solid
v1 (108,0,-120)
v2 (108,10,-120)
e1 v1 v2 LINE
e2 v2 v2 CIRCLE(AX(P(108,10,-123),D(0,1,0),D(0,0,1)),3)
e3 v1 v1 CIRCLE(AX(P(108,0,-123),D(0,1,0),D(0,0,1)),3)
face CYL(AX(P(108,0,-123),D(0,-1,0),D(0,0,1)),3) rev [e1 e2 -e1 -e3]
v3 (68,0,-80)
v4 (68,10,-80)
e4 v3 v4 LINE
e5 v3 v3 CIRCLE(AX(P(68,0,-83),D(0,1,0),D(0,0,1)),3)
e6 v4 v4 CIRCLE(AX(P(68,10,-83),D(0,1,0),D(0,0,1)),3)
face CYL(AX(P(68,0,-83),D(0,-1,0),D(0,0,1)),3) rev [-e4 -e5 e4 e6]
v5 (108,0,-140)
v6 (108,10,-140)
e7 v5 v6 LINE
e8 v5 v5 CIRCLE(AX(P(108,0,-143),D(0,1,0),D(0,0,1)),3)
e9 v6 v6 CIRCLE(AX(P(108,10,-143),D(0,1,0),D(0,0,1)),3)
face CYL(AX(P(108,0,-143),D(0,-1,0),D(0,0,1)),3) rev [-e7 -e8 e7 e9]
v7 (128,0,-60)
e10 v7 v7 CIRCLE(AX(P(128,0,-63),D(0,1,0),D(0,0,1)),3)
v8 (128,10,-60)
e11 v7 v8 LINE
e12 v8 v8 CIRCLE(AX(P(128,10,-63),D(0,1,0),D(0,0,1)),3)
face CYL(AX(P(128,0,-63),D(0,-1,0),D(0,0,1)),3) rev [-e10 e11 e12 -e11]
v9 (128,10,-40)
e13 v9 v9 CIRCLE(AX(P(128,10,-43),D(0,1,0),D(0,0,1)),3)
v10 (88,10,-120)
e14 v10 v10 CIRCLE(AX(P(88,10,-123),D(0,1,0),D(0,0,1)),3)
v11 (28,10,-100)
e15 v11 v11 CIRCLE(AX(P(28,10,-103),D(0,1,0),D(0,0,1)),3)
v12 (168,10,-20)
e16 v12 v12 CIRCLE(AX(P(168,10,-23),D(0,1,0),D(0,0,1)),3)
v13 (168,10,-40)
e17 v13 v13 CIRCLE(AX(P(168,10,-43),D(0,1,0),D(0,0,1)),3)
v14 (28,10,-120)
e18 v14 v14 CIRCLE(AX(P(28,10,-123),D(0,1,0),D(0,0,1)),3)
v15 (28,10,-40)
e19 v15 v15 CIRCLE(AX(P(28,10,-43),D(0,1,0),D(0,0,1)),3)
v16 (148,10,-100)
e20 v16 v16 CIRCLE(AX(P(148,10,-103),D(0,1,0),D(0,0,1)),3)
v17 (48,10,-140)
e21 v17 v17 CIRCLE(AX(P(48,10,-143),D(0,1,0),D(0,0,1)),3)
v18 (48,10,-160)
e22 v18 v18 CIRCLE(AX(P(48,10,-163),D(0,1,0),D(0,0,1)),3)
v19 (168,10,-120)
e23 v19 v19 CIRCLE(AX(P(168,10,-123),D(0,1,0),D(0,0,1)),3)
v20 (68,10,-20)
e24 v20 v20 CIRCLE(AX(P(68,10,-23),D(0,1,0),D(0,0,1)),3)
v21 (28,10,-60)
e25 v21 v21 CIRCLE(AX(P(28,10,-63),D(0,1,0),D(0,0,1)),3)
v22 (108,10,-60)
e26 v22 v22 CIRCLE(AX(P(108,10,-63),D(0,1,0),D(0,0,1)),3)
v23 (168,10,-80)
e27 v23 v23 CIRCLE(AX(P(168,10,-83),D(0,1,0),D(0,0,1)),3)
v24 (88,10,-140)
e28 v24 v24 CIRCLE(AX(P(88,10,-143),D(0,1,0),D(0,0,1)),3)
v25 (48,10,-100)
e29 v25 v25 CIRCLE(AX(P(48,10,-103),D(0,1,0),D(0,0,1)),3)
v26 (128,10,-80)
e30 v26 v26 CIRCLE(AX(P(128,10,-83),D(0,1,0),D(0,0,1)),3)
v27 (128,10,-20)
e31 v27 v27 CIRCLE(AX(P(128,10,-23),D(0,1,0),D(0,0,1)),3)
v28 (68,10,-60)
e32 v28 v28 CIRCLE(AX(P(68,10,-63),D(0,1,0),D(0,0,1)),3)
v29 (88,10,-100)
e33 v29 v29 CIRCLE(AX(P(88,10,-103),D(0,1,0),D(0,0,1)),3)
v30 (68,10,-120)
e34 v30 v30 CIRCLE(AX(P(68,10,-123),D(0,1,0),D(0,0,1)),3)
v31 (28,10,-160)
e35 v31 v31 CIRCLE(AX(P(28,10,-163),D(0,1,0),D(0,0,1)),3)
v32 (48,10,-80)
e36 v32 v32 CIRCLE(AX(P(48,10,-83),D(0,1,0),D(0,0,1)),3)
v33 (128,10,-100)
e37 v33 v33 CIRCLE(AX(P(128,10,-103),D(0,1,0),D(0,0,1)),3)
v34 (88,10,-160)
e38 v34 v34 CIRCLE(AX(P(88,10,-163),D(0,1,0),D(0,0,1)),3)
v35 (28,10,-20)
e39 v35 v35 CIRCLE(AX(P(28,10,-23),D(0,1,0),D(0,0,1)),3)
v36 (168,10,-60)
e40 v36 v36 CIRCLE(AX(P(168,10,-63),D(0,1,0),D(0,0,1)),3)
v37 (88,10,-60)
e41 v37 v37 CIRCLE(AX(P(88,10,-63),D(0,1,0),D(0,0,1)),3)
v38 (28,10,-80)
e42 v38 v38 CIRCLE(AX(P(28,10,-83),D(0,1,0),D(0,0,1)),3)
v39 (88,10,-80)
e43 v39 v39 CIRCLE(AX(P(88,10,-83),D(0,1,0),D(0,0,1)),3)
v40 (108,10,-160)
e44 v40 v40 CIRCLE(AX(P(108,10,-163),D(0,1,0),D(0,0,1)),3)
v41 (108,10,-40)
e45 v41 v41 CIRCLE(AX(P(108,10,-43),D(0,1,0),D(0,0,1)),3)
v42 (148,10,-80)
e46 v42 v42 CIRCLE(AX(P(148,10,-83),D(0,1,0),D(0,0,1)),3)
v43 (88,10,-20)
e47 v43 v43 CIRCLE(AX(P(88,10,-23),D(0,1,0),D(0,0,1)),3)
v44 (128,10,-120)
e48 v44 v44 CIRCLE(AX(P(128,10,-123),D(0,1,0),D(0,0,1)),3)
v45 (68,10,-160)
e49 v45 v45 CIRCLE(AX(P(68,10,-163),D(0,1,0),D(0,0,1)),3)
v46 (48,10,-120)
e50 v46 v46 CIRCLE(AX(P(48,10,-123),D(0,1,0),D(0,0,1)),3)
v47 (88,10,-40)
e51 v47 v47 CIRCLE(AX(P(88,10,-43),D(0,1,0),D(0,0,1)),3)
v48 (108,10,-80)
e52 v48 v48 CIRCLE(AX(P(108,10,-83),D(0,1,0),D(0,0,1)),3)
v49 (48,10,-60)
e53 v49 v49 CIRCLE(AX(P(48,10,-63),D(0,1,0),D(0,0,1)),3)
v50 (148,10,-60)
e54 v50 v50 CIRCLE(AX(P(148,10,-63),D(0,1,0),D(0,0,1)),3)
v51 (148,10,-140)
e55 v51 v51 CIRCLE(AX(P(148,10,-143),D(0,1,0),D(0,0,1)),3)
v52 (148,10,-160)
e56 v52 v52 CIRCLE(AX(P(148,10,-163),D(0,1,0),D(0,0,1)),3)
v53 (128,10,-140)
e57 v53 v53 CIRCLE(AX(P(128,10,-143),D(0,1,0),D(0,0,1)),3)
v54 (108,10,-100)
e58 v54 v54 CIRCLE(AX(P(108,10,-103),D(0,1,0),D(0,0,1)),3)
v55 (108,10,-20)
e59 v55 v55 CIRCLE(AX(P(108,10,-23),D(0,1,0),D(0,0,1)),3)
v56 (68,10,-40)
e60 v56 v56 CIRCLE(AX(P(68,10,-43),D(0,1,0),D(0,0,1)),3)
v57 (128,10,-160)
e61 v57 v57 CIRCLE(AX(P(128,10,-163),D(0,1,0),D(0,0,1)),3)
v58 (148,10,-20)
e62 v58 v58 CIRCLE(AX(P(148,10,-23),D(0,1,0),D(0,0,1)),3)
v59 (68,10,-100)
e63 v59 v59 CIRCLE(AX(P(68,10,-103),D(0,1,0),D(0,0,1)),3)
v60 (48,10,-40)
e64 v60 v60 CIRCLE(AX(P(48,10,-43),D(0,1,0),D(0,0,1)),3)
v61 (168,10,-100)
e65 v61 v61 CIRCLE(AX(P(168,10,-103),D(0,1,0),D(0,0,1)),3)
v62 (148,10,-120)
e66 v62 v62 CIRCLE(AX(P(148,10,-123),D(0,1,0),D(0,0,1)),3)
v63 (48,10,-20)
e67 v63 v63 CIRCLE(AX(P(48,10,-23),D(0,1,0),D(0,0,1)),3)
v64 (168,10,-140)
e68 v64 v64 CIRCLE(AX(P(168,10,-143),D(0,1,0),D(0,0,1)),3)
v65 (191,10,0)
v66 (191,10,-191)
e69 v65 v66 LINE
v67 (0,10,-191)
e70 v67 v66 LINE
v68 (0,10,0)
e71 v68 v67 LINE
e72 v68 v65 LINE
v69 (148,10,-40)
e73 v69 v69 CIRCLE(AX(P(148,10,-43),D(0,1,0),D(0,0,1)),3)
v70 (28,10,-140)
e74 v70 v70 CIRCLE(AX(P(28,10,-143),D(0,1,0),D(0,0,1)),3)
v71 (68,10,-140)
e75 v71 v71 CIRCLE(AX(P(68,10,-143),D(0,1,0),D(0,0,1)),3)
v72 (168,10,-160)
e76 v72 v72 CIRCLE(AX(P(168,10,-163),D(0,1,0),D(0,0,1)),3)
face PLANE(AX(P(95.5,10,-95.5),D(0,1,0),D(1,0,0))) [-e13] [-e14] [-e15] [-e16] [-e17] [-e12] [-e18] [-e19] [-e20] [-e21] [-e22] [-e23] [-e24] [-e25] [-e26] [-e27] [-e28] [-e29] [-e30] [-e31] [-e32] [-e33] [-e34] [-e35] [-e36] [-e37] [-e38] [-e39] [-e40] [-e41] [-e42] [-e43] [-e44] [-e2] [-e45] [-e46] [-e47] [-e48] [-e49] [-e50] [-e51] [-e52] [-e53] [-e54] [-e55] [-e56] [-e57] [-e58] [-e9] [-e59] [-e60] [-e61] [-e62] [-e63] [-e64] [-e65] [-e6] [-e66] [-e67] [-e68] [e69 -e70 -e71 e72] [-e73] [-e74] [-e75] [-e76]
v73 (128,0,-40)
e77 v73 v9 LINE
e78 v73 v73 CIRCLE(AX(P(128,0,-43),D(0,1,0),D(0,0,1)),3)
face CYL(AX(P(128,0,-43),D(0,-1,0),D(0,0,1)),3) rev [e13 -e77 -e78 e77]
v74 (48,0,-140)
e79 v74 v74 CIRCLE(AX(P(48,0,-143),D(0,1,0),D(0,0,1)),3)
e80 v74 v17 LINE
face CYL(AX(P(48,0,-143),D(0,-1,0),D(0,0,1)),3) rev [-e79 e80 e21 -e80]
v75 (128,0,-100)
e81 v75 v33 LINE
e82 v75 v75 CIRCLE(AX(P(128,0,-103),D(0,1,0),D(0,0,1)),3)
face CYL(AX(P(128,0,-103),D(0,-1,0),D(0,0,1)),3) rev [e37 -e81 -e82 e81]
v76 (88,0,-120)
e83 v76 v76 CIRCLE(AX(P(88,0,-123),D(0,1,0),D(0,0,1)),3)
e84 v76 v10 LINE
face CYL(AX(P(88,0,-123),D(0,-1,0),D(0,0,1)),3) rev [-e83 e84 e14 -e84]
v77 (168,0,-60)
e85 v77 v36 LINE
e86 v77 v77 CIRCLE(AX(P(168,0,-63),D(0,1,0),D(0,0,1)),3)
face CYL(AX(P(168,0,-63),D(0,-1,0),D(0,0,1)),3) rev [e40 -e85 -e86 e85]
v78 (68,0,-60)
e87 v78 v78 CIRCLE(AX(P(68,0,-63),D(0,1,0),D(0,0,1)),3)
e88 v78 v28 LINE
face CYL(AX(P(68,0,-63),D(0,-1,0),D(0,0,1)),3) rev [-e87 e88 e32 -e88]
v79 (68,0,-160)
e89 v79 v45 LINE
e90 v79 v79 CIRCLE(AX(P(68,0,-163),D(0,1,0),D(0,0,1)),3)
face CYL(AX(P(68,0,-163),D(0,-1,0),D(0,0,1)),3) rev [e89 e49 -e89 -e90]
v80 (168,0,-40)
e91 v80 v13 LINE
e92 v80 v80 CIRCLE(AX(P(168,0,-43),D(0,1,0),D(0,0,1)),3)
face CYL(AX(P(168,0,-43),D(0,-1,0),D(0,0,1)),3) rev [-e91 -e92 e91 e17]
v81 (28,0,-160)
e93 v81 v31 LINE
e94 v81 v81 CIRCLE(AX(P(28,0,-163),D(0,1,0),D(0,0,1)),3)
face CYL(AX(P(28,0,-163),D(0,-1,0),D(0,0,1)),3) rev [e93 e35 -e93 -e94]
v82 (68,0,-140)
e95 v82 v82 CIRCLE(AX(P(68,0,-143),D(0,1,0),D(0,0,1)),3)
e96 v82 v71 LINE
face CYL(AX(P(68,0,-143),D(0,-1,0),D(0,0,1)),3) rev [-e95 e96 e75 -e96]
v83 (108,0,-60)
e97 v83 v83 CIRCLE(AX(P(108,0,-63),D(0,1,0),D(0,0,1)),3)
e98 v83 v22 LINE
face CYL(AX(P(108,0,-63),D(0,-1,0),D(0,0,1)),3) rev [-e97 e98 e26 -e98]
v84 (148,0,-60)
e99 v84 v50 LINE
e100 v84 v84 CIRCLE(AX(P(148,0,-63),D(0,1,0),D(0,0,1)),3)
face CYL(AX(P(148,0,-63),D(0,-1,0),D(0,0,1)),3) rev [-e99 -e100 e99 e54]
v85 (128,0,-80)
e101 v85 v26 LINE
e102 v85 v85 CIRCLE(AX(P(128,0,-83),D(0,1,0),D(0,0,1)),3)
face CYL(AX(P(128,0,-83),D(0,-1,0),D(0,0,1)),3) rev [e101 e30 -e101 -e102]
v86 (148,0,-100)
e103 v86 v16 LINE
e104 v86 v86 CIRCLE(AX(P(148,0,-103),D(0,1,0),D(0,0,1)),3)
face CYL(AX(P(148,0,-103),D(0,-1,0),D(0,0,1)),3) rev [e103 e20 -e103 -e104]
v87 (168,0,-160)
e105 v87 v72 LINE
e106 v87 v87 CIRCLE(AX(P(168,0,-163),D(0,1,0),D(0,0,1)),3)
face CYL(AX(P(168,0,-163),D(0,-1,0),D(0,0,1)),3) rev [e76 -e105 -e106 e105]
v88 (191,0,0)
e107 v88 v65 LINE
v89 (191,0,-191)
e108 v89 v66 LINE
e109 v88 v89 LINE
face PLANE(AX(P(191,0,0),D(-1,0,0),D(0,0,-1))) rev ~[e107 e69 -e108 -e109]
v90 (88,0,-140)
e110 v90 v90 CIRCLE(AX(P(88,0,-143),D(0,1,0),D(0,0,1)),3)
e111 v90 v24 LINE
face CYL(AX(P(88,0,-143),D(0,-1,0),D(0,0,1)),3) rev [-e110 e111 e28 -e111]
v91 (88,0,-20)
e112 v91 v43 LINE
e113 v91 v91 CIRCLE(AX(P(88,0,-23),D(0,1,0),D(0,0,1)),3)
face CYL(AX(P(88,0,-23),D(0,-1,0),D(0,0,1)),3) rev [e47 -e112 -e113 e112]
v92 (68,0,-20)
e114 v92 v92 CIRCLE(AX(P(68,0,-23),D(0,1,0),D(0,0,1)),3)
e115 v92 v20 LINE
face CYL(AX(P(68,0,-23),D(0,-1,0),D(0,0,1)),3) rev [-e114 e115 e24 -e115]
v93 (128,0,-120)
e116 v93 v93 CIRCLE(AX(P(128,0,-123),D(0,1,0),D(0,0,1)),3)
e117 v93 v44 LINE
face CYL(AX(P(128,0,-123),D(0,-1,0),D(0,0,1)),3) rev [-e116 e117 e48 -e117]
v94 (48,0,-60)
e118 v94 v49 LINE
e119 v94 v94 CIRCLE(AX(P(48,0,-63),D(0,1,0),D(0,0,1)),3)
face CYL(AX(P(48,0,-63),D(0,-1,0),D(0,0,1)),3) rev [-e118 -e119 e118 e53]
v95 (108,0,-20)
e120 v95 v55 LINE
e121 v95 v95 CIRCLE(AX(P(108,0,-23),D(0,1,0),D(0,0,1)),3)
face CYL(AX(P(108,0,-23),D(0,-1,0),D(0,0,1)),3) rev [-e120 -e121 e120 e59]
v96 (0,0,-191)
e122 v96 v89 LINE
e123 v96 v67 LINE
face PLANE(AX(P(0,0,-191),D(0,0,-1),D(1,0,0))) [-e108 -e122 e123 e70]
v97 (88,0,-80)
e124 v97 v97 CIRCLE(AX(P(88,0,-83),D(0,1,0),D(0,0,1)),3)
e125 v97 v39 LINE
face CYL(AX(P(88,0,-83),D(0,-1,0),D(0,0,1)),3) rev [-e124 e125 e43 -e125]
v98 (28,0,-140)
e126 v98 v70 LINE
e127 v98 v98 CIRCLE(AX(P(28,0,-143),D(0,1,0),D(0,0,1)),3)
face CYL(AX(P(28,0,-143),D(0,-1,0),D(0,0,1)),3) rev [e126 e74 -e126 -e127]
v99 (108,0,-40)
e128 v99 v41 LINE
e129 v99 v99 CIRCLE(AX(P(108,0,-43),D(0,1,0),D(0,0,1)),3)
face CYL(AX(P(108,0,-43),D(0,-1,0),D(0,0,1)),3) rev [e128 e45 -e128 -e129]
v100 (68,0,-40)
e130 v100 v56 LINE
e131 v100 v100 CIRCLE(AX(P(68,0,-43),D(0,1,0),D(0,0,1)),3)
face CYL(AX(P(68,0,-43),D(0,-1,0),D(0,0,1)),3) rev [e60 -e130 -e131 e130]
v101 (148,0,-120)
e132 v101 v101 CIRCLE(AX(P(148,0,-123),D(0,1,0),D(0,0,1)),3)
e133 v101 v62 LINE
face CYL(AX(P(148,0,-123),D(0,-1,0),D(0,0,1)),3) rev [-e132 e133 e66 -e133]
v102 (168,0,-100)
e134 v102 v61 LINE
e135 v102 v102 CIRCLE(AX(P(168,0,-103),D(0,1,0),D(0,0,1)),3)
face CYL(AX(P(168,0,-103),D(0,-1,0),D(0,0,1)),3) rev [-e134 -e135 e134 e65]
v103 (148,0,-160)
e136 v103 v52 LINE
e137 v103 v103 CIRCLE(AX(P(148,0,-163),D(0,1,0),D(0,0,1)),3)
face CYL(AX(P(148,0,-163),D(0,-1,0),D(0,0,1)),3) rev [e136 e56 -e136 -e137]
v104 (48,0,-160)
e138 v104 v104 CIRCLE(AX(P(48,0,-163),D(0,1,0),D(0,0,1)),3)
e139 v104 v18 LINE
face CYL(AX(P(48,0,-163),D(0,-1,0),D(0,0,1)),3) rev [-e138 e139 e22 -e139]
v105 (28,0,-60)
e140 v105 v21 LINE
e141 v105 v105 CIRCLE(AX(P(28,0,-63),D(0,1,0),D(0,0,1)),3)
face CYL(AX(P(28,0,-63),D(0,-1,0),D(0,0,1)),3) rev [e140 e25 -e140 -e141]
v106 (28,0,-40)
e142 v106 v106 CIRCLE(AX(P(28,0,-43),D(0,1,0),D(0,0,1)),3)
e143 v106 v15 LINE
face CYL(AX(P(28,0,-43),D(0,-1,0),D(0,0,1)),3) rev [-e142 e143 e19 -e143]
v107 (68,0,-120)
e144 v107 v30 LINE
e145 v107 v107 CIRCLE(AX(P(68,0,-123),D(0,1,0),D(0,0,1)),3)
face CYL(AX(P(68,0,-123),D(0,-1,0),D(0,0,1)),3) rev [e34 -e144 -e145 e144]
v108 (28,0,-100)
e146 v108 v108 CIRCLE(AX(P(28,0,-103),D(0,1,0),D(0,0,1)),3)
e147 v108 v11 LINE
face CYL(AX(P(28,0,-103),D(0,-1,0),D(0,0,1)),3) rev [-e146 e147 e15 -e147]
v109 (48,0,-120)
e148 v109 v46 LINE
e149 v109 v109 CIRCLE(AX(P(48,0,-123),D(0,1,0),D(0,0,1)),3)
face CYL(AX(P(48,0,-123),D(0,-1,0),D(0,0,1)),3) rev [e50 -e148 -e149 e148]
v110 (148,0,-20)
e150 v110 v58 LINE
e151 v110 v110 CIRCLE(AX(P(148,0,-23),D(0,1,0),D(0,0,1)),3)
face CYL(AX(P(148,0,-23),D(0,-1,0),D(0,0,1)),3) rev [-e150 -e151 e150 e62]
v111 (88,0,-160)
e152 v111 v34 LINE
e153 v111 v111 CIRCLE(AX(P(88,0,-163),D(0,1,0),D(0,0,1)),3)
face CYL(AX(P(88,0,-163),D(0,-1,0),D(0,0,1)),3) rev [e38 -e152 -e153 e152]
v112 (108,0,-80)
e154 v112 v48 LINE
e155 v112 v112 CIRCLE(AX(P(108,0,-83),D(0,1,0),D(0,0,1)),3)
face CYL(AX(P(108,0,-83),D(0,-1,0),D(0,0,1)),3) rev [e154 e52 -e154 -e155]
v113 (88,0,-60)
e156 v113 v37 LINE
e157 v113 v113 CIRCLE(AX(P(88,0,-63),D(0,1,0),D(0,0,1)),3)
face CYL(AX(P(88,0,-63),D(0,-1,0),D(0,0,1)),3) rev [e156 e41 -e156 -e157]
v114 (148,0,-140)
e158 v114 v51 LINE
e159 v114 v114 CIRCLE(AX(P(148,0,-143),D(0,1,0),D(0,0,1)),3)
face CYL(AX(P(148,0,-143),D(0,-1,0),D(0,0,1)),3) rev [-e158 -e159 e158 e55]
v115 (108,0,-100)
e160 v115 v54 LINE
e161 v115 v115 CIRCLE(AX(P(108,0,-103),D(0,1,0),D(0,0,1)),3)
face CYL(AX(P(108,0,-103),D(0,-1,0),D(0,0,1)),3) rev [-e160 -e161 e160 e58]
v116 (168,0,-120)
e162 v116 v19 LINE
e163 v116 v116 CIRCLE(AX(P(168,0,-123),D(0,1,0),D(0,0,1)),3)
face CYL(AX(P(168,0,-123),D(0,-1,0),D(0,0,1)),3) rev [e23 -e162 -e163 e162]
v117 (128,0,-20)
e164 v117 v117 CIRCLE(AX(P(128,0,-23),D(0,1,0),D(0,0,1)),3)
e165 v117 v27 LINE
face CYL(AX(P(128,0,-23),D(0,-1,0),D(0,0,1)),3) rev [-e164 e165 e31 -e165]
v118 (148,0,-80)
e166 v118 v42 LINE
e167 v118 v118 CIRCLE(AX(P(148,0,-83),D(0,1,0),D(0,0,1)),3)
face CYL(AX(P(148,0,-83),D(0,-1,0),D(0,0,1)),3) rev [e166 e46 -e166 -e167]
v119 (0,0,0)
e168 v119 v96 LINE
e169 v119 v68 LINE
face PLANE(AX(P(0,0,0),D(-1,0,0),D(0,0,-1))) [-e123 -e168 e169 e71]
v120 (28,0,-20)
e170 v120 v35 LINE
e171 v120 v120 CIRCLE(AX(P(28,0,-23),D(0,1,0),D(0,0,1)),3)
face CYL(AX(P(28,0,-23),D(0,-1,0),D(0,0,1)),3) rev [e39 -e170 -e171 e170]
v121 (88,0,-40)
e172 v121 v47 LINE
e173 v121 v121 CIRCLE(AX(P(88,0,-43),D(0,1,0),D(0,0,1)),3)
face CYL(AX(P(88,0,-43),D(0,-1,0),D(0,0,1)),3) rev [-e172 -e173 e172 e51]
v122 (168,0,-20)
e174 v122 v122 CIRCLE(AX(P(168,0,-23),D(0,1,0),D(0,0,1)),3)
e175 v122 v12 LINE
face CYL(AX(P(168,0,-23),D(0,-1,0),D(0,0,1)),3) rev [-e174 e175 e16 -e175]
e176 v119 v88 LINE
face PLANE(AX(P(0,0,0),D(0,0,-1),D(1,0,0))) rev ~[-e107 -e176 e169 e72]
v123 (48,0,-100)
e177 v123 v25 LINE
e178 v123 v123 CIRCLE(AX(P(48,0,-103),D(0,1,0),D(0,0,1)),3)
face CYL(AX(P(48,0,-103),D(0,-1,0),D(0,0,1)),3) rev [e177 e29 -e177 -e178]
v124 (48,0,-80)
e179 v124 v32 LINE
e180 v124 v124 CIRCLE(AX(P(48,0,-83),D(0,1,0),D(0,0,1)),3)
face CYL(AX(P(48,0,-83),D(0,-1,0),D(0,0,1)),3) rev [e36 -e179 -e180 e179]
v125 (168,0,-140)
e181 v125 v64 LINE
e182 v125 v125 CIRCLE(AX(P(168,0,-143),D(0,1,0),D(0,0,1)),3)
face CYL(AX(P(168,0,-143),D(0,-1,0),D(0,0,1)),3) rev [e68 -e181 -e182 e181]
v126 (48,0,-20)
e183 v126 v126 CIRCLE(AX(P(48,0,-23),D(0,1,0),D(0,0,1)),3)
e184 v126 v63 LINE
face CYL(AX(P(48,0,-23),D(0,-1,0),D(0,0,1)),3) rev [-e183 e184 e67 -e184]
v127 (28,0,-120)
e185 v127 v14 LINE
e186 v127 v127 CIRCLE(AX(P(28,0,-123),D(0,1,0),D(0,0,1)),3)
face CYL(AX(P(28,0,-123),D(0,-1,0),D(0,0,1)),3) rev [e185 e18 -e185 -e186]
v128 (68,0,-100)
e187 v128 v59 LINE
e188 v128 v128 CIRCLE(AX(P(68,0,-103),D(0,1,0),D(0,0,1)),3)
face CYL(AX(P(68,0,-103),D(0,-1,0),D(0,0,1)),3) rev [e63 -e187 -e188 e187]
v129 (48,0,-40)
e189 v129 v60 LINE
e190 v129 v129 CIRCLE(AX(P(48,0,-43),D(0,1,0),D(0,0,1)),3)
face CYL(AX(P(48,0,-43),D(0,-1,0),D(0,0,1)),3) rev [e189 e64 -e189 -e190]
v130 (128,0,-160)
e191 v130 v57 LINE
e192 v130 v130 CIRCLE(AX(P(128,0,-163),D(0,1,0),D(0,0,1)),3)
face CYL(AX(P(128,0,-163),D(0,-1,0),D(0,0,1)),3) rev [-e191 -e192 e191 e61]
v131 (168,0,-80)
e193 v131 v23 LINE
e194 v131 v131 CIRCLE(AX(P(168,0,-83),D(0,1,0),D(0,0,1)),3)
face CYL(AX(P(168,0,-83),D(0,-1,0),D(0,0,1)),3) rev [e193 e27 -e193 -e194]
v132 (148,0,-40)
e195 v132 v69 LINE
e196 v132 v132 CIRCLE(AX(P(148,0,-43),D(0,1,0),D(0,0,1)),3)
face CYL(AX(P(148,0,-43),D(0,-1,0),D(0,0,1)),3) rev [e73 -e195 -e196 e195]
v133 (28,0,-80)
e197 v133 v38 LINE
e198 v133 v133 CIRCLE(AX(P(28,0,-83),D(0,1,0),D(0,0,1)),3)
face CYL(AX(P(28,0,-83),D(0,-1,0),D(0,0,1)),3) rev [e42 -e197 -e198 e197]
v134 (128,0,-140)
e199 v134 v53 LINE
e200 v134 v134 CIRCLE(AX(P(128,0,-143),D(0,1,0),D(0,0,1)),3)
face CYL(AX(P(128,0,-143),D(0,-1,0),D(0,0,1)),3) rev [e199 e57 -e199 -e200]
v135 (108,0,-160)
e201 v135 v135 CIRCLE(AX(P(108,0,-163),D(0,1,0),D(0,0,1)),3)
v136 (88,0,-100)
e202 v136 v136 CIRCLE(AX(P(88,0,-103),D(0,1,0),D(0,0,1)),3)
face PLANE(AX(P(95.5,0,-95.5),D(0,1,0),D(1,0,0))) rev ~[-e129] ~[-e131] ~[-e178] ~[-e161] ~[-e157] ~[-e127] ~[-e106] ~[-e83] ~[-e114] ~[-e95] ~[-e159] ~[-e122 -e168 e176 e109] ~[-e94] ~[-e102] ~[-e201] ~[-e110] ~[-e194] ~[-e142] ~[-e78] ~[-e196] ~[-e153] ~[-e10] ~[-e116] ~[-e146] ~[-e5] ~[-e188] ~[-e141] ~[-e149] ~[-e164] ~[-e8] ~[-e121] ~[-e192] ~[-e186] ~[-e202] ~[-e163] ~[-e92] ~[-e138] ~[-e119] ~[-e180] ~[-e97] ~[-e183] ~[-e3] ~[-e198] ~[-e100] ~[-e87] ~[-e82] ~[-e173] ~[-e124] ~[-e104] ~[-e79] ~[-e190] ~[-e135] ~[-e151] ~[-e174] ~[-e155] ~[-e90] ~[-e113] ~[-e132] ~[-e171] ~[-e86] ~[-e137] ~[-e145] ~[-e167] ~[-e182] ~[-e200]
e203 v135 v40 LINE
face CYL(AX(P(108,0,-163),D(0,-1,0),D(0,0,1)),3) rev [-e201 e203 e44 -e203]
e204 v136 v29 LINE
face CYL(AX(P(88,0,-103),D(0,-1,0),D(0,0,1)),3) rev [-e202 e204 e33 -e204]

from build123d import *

# Parameters (mm, degrees)
SKETCH1_W           = 191
SKETCH1_H           = 191
SKETCH1_R           = 3
BOSS_EXTRUDE1_DEPTH = 10


with BuildPart() as part:
    # Sketch1 → Boss-Extrude1 (new body)
    with BuildSketch(Plane(origin=(0, 0, 0), x_dir=(1, 0, 0), z_dir=(0, 1, 0))):
        with Locations((95.5, 95.5)):
            Rectangle(SKETCH1_W, SKETCH1_H)
        with Locations(Location((28, 163, 0), (0, 0, 270))):
            Circle(SKETCH1_R, mode=Mode.SUBTRACT)
        with Locations(Location((48, 163, 0), (0, 0, 270))):
            Circle(SKETCH1_R, mode=Mode.SUBTRACT)
        with Locations(Location((68, 163, 0), (0, 0, 270))):
            Circle(SKETCH1_R, mode=Mode.SUBTRACT)
        with Locations(Location((88, 163, 0), (0, 0, 270))):
            Circle(SKETCH1_R, mode=Mode.SUBTRACT)
        with Locations(Location((108, 163, 0), (0, 0, 270))):
            Circle(SKETCH1_R, mode=Mode.SUBTRACT)
        with Locations(Location((48, 143, 0), (0, 0, 270))):
            Circle(SKETCH1_R, mode=Mode.SUBTRACT)
        with Locations(Location((68, 143, 0), (0, 0, 270))):
            Circle(SKETCH1_R, mode=Mode.SUBTRACT)
        with Locations(Location((88, 143, 0), (0, 0, 270))):
            Circle(SKETCH1_R, mode=Mode.SUBTRACT)
        with Locations(Location((108, 143, 0), (0, 0, 270))):
            Circle(SKETCH1_R, mode=Mode.SUBTRACT)
        with Locations(Location((48, 123, 0), (0, 0, 270))):
            Circle(SKETCH1_R, mode=Mode.SUBTRACT)
        with Locations(Location((68, 123, 0), (0, 0, 270))):
            Circle(SKETCH1_R, mode=Mode.SUBTRACT)
        with Locations(Location((88, 123, 0), (0, 0, 270))):
            Circle(SKETCH1_R, mode=Mode.SUBTRACT)
        with Locations(Location((108, 123, 0), (0, 0, 270))):
            Circle(SKETCH1_R, mode=Mode.SUBTRACT)
        with Locations(Location((48, 103, 0), (0, 0, 270))):
            Circle(SKETCH1_R, mode=Mode.SUBTRACT)
        with Locations(Location((68, 103, 0), (0, 0, 270))):
            Circle(SKETCH1_R, mode=Mode.SUBTRACT)
        with Locations(Location((88, 103, 0), (0, 0, 270))):
            Circle(SKETCH1_R, mode=Mode.SUBTRACT)
        with Locations(Location((108, 103, 0), (0, 0, 270))):
            Circle(SKETCH1_R, mode=Mode.SUBTRACT)
        with Locations(Location((48, 83, 0), (0, 0, 270))):
            Circle(SKETCH1_R, mode=Mode.SUBTRACT)
        with Locations(Location((68, 83, 0), (0, 0, 270))):
            Circle(SKETCH1_R, mode=Mode.SUBTRACT)
        with Locations(Location((88, 83, 0), (0, 0, 270))):
            Circle(SKETCH1_R, mode=Mode.SUBTRACT)
        with Locations(Location((108, 83, 0), (0, 0, 270))):
            Circle(SKETCH1_R, mode=Mode.SUBTRACT)
        with Locations(Location((28, 143, 0), (0, 0, 270))):
            Circle(SKETCH1_R, mode=Mode.SUBTRACT)
        with Locations(Location((28, 123, 0), (0, 0, 270))):
            Circle(SKETCH1_R, mode=Mode.SUBTRACT)
        with Locations(Location((28, 103, 0), (0, 0, 270))):
            Circle(SKETCH1_R, mode=Mode.SUBTRACT)
        with Locations(Location((28, 83, 0), (0, 0, 270))):
            Circle(SKETCH1_R, mode=Mode.SUBTRACT)
        with Locations(Location((28, 63, 0), (0, 0, 270))):
            Circle(SKETCH1_R, mode=Mode.SUBTRACT)
        with Locations(Location((48, 63, 0), (0, 0, 270))):
            Circle(SKETCH1_R, mode=Mode.SUBTRACT)
        with Locations(Location((68, 63, 0), (0, 0, 270))):
            Circle(SKETCH1_R, mode=Mode.SUBTRACT)
        with Locations(Location((88, 63, 0), (0, 0, 270))):
            Circle(SKETCH1_R, mode=Mode.SUBTRACT)
        with Locations(Location((108, 63, 0), (0, 0, 270))):
            Circle(SKETCH1_R, mode=Mode.SUBTRACT)
        with Locations(Location((28, 43, 0), (0, 0, 270))):
            Circle(SKETCH1_R, mode=Mode.SUBTRACT)
        with Locations(Location((48, 43, 0), (0, 0, 270))):
            Circle(SKETCH1_R, mode=Mode.SUBTRACT)
        with Locations(Location((68, 43, 0), (0, 0, 270))):
            Circle(SKETCH1_R, mode=Mode.SUBTRACT)
        with Locations(Location((88, 43, 0), (0, 0, 270))):
            Circle(SKETCH1_R, mode=Mode.SUBTRACT)
        with Locations(Location((108, 43, 0), (0, 0, 270))):
            Circle(SKETCH1_R, mode=Mode.SUBTRACT)
        with Locations(Location((28, 23, 0), (0, 0, 270))):
            Circle(SKETCH1_R, mode=Mode.SUBTRACT)
        with Locations(Location((48, 23, 0), (0, 0, 270))):
            Circle(SKETCH1_R, mode=Mode.SUBTRACT)
        with Locations(Location((68, 23, 0), (0, 0, 270))):
            Circle(SKETCH1_R, mode=Mode.SUBTRACT)
        with Locations(Location((88, 23, 0), (0, 0, 270))):
            Circle(SKETCH1_R, mode=Mode.SUBTRACT)
        with Locations(Location((108, 23, 0), (0, 0, 270))):
            Circle(SKETCH1_R, mode=Mode.SUBTRACT)
        with Locations(Location((128, 163, 0), (0, 0, 270))):
            Circle(SKETCH1_R, mode=Mode.SUBTRACT)
        with Locations(Location((148, 163, 0), (0, 0, 270))):
            Circle(SKETCH1_R, mode=Mode.SUBTRACT)
        with Locations(Location((168, 163, 0), (0, 0, 270))):
            Circle(SKETCH1_R, mode=Mode.SUBTRACT)
        with Locations(Location((128, 143, 0), (0, 0, 270))):
            Circle(SKETCH1_R, mode=Mode.SUBTRACT)
        with Locations(Location((148, 143, 0), (0, 0, 270))):
            Circle(SKETCH1_R, mode=Mode.SUBTRACT)
        with Locations(Location((168, 143, 0), (0, 0, 270))):
            Circle(SKETCH1_R, mode=Mode.SUBTRACT)
        with Locations(Location((128, 123, 0), (0, 0, 270))):
            Circle(SKETCH1_R, mode=Mode.SUBTRACT)
        with Locations(Location((148, 123, 0), (0, 0, 270))):
            Circle(SKETCH1_R, mode=Mode.SUBTRACT)
        with Locations(Location((168, 123, 0), (0, 0, 270))):
            Circle(SKETCH1_R, mode=Mode.SUBTRACT)
        with Locations(Location((128, 103, 0), (0, 0, 270))):
            Circle(SKETCH1_R, mode=Mode.SUBTRACT)
        with Locations(Location((148, 103, 0), (0, 0, 270))):
            Circle(SKETCH1_R, mode=Mode.SUBTRACT)
        with Locations(Location((168, 103, 0), (0, 0, 270))):
            Circle(SKETCH1_R, mode=Mode.SUBTRACT)
        with Locations(Location((128, 83, 0), (0, 0, 270))):
            Circle(SKETCH1_R, mode=Mode.SUBTRACT)
        with Locations(Location((148, 83, 0), (0, 0, 270))):
            Circle(SKETCH1_R, mode=Mode.SUBTRACT)
        with Locations(Location((168, 83, 0), (0, 0, 270))):
            Circle(SKETCH1_R, mode=Mode.SUBTRACT)
        with Locations(Location((128, 63, 0), (0, 0, 270))):
            Circle(SKETCH1_R, mode=Mode.SUBTRACT)
        with Locations(Location((148, 63, 0), (0, 0, 270))):
            Circle(SKETCH1_R, mode=Mode.SUBTRACT)
        with Locations(Location((168, 63, 0), (0, 0, 270))):
            Circle(SKETCH1_R, mode=Mode.SUBTRACT)
        with Locations(Location((128, 43, 0), (0, 0, 270))):
            Circle(SKETCH1_R, mode=Mode.SUBTRACT)
        with Locations(Location((148, 43, 0), (0, 0, 270))):
            Circle(SKETCH1_R, mode=Mode.SUBTRACT)
        with Locations(Location((168, 43, 0), (0, 0, 270))):
            Circle(SKETCH1_R, mode=Mode.SUBTRACT)
        with Locations(Location((128, 23, 0), (0, 0, 270))):
            Circle(SKETCH1_R, mode=Mode.SUBTRACT)
        with Locations(Location((148, 23, 0), (0, 0, 270))):
            Circle(SKETCH1_R, mode=Mode.SUBTRACT)
        with Locations(Location((168, 23, 0), (0, 0, 270))):
            Circle(SKETCH1_R, mode=Mode.SUBTRACT)
    extrude(amount=BOSS_EXTRUDE1_DEPTH)


solid = part.part
